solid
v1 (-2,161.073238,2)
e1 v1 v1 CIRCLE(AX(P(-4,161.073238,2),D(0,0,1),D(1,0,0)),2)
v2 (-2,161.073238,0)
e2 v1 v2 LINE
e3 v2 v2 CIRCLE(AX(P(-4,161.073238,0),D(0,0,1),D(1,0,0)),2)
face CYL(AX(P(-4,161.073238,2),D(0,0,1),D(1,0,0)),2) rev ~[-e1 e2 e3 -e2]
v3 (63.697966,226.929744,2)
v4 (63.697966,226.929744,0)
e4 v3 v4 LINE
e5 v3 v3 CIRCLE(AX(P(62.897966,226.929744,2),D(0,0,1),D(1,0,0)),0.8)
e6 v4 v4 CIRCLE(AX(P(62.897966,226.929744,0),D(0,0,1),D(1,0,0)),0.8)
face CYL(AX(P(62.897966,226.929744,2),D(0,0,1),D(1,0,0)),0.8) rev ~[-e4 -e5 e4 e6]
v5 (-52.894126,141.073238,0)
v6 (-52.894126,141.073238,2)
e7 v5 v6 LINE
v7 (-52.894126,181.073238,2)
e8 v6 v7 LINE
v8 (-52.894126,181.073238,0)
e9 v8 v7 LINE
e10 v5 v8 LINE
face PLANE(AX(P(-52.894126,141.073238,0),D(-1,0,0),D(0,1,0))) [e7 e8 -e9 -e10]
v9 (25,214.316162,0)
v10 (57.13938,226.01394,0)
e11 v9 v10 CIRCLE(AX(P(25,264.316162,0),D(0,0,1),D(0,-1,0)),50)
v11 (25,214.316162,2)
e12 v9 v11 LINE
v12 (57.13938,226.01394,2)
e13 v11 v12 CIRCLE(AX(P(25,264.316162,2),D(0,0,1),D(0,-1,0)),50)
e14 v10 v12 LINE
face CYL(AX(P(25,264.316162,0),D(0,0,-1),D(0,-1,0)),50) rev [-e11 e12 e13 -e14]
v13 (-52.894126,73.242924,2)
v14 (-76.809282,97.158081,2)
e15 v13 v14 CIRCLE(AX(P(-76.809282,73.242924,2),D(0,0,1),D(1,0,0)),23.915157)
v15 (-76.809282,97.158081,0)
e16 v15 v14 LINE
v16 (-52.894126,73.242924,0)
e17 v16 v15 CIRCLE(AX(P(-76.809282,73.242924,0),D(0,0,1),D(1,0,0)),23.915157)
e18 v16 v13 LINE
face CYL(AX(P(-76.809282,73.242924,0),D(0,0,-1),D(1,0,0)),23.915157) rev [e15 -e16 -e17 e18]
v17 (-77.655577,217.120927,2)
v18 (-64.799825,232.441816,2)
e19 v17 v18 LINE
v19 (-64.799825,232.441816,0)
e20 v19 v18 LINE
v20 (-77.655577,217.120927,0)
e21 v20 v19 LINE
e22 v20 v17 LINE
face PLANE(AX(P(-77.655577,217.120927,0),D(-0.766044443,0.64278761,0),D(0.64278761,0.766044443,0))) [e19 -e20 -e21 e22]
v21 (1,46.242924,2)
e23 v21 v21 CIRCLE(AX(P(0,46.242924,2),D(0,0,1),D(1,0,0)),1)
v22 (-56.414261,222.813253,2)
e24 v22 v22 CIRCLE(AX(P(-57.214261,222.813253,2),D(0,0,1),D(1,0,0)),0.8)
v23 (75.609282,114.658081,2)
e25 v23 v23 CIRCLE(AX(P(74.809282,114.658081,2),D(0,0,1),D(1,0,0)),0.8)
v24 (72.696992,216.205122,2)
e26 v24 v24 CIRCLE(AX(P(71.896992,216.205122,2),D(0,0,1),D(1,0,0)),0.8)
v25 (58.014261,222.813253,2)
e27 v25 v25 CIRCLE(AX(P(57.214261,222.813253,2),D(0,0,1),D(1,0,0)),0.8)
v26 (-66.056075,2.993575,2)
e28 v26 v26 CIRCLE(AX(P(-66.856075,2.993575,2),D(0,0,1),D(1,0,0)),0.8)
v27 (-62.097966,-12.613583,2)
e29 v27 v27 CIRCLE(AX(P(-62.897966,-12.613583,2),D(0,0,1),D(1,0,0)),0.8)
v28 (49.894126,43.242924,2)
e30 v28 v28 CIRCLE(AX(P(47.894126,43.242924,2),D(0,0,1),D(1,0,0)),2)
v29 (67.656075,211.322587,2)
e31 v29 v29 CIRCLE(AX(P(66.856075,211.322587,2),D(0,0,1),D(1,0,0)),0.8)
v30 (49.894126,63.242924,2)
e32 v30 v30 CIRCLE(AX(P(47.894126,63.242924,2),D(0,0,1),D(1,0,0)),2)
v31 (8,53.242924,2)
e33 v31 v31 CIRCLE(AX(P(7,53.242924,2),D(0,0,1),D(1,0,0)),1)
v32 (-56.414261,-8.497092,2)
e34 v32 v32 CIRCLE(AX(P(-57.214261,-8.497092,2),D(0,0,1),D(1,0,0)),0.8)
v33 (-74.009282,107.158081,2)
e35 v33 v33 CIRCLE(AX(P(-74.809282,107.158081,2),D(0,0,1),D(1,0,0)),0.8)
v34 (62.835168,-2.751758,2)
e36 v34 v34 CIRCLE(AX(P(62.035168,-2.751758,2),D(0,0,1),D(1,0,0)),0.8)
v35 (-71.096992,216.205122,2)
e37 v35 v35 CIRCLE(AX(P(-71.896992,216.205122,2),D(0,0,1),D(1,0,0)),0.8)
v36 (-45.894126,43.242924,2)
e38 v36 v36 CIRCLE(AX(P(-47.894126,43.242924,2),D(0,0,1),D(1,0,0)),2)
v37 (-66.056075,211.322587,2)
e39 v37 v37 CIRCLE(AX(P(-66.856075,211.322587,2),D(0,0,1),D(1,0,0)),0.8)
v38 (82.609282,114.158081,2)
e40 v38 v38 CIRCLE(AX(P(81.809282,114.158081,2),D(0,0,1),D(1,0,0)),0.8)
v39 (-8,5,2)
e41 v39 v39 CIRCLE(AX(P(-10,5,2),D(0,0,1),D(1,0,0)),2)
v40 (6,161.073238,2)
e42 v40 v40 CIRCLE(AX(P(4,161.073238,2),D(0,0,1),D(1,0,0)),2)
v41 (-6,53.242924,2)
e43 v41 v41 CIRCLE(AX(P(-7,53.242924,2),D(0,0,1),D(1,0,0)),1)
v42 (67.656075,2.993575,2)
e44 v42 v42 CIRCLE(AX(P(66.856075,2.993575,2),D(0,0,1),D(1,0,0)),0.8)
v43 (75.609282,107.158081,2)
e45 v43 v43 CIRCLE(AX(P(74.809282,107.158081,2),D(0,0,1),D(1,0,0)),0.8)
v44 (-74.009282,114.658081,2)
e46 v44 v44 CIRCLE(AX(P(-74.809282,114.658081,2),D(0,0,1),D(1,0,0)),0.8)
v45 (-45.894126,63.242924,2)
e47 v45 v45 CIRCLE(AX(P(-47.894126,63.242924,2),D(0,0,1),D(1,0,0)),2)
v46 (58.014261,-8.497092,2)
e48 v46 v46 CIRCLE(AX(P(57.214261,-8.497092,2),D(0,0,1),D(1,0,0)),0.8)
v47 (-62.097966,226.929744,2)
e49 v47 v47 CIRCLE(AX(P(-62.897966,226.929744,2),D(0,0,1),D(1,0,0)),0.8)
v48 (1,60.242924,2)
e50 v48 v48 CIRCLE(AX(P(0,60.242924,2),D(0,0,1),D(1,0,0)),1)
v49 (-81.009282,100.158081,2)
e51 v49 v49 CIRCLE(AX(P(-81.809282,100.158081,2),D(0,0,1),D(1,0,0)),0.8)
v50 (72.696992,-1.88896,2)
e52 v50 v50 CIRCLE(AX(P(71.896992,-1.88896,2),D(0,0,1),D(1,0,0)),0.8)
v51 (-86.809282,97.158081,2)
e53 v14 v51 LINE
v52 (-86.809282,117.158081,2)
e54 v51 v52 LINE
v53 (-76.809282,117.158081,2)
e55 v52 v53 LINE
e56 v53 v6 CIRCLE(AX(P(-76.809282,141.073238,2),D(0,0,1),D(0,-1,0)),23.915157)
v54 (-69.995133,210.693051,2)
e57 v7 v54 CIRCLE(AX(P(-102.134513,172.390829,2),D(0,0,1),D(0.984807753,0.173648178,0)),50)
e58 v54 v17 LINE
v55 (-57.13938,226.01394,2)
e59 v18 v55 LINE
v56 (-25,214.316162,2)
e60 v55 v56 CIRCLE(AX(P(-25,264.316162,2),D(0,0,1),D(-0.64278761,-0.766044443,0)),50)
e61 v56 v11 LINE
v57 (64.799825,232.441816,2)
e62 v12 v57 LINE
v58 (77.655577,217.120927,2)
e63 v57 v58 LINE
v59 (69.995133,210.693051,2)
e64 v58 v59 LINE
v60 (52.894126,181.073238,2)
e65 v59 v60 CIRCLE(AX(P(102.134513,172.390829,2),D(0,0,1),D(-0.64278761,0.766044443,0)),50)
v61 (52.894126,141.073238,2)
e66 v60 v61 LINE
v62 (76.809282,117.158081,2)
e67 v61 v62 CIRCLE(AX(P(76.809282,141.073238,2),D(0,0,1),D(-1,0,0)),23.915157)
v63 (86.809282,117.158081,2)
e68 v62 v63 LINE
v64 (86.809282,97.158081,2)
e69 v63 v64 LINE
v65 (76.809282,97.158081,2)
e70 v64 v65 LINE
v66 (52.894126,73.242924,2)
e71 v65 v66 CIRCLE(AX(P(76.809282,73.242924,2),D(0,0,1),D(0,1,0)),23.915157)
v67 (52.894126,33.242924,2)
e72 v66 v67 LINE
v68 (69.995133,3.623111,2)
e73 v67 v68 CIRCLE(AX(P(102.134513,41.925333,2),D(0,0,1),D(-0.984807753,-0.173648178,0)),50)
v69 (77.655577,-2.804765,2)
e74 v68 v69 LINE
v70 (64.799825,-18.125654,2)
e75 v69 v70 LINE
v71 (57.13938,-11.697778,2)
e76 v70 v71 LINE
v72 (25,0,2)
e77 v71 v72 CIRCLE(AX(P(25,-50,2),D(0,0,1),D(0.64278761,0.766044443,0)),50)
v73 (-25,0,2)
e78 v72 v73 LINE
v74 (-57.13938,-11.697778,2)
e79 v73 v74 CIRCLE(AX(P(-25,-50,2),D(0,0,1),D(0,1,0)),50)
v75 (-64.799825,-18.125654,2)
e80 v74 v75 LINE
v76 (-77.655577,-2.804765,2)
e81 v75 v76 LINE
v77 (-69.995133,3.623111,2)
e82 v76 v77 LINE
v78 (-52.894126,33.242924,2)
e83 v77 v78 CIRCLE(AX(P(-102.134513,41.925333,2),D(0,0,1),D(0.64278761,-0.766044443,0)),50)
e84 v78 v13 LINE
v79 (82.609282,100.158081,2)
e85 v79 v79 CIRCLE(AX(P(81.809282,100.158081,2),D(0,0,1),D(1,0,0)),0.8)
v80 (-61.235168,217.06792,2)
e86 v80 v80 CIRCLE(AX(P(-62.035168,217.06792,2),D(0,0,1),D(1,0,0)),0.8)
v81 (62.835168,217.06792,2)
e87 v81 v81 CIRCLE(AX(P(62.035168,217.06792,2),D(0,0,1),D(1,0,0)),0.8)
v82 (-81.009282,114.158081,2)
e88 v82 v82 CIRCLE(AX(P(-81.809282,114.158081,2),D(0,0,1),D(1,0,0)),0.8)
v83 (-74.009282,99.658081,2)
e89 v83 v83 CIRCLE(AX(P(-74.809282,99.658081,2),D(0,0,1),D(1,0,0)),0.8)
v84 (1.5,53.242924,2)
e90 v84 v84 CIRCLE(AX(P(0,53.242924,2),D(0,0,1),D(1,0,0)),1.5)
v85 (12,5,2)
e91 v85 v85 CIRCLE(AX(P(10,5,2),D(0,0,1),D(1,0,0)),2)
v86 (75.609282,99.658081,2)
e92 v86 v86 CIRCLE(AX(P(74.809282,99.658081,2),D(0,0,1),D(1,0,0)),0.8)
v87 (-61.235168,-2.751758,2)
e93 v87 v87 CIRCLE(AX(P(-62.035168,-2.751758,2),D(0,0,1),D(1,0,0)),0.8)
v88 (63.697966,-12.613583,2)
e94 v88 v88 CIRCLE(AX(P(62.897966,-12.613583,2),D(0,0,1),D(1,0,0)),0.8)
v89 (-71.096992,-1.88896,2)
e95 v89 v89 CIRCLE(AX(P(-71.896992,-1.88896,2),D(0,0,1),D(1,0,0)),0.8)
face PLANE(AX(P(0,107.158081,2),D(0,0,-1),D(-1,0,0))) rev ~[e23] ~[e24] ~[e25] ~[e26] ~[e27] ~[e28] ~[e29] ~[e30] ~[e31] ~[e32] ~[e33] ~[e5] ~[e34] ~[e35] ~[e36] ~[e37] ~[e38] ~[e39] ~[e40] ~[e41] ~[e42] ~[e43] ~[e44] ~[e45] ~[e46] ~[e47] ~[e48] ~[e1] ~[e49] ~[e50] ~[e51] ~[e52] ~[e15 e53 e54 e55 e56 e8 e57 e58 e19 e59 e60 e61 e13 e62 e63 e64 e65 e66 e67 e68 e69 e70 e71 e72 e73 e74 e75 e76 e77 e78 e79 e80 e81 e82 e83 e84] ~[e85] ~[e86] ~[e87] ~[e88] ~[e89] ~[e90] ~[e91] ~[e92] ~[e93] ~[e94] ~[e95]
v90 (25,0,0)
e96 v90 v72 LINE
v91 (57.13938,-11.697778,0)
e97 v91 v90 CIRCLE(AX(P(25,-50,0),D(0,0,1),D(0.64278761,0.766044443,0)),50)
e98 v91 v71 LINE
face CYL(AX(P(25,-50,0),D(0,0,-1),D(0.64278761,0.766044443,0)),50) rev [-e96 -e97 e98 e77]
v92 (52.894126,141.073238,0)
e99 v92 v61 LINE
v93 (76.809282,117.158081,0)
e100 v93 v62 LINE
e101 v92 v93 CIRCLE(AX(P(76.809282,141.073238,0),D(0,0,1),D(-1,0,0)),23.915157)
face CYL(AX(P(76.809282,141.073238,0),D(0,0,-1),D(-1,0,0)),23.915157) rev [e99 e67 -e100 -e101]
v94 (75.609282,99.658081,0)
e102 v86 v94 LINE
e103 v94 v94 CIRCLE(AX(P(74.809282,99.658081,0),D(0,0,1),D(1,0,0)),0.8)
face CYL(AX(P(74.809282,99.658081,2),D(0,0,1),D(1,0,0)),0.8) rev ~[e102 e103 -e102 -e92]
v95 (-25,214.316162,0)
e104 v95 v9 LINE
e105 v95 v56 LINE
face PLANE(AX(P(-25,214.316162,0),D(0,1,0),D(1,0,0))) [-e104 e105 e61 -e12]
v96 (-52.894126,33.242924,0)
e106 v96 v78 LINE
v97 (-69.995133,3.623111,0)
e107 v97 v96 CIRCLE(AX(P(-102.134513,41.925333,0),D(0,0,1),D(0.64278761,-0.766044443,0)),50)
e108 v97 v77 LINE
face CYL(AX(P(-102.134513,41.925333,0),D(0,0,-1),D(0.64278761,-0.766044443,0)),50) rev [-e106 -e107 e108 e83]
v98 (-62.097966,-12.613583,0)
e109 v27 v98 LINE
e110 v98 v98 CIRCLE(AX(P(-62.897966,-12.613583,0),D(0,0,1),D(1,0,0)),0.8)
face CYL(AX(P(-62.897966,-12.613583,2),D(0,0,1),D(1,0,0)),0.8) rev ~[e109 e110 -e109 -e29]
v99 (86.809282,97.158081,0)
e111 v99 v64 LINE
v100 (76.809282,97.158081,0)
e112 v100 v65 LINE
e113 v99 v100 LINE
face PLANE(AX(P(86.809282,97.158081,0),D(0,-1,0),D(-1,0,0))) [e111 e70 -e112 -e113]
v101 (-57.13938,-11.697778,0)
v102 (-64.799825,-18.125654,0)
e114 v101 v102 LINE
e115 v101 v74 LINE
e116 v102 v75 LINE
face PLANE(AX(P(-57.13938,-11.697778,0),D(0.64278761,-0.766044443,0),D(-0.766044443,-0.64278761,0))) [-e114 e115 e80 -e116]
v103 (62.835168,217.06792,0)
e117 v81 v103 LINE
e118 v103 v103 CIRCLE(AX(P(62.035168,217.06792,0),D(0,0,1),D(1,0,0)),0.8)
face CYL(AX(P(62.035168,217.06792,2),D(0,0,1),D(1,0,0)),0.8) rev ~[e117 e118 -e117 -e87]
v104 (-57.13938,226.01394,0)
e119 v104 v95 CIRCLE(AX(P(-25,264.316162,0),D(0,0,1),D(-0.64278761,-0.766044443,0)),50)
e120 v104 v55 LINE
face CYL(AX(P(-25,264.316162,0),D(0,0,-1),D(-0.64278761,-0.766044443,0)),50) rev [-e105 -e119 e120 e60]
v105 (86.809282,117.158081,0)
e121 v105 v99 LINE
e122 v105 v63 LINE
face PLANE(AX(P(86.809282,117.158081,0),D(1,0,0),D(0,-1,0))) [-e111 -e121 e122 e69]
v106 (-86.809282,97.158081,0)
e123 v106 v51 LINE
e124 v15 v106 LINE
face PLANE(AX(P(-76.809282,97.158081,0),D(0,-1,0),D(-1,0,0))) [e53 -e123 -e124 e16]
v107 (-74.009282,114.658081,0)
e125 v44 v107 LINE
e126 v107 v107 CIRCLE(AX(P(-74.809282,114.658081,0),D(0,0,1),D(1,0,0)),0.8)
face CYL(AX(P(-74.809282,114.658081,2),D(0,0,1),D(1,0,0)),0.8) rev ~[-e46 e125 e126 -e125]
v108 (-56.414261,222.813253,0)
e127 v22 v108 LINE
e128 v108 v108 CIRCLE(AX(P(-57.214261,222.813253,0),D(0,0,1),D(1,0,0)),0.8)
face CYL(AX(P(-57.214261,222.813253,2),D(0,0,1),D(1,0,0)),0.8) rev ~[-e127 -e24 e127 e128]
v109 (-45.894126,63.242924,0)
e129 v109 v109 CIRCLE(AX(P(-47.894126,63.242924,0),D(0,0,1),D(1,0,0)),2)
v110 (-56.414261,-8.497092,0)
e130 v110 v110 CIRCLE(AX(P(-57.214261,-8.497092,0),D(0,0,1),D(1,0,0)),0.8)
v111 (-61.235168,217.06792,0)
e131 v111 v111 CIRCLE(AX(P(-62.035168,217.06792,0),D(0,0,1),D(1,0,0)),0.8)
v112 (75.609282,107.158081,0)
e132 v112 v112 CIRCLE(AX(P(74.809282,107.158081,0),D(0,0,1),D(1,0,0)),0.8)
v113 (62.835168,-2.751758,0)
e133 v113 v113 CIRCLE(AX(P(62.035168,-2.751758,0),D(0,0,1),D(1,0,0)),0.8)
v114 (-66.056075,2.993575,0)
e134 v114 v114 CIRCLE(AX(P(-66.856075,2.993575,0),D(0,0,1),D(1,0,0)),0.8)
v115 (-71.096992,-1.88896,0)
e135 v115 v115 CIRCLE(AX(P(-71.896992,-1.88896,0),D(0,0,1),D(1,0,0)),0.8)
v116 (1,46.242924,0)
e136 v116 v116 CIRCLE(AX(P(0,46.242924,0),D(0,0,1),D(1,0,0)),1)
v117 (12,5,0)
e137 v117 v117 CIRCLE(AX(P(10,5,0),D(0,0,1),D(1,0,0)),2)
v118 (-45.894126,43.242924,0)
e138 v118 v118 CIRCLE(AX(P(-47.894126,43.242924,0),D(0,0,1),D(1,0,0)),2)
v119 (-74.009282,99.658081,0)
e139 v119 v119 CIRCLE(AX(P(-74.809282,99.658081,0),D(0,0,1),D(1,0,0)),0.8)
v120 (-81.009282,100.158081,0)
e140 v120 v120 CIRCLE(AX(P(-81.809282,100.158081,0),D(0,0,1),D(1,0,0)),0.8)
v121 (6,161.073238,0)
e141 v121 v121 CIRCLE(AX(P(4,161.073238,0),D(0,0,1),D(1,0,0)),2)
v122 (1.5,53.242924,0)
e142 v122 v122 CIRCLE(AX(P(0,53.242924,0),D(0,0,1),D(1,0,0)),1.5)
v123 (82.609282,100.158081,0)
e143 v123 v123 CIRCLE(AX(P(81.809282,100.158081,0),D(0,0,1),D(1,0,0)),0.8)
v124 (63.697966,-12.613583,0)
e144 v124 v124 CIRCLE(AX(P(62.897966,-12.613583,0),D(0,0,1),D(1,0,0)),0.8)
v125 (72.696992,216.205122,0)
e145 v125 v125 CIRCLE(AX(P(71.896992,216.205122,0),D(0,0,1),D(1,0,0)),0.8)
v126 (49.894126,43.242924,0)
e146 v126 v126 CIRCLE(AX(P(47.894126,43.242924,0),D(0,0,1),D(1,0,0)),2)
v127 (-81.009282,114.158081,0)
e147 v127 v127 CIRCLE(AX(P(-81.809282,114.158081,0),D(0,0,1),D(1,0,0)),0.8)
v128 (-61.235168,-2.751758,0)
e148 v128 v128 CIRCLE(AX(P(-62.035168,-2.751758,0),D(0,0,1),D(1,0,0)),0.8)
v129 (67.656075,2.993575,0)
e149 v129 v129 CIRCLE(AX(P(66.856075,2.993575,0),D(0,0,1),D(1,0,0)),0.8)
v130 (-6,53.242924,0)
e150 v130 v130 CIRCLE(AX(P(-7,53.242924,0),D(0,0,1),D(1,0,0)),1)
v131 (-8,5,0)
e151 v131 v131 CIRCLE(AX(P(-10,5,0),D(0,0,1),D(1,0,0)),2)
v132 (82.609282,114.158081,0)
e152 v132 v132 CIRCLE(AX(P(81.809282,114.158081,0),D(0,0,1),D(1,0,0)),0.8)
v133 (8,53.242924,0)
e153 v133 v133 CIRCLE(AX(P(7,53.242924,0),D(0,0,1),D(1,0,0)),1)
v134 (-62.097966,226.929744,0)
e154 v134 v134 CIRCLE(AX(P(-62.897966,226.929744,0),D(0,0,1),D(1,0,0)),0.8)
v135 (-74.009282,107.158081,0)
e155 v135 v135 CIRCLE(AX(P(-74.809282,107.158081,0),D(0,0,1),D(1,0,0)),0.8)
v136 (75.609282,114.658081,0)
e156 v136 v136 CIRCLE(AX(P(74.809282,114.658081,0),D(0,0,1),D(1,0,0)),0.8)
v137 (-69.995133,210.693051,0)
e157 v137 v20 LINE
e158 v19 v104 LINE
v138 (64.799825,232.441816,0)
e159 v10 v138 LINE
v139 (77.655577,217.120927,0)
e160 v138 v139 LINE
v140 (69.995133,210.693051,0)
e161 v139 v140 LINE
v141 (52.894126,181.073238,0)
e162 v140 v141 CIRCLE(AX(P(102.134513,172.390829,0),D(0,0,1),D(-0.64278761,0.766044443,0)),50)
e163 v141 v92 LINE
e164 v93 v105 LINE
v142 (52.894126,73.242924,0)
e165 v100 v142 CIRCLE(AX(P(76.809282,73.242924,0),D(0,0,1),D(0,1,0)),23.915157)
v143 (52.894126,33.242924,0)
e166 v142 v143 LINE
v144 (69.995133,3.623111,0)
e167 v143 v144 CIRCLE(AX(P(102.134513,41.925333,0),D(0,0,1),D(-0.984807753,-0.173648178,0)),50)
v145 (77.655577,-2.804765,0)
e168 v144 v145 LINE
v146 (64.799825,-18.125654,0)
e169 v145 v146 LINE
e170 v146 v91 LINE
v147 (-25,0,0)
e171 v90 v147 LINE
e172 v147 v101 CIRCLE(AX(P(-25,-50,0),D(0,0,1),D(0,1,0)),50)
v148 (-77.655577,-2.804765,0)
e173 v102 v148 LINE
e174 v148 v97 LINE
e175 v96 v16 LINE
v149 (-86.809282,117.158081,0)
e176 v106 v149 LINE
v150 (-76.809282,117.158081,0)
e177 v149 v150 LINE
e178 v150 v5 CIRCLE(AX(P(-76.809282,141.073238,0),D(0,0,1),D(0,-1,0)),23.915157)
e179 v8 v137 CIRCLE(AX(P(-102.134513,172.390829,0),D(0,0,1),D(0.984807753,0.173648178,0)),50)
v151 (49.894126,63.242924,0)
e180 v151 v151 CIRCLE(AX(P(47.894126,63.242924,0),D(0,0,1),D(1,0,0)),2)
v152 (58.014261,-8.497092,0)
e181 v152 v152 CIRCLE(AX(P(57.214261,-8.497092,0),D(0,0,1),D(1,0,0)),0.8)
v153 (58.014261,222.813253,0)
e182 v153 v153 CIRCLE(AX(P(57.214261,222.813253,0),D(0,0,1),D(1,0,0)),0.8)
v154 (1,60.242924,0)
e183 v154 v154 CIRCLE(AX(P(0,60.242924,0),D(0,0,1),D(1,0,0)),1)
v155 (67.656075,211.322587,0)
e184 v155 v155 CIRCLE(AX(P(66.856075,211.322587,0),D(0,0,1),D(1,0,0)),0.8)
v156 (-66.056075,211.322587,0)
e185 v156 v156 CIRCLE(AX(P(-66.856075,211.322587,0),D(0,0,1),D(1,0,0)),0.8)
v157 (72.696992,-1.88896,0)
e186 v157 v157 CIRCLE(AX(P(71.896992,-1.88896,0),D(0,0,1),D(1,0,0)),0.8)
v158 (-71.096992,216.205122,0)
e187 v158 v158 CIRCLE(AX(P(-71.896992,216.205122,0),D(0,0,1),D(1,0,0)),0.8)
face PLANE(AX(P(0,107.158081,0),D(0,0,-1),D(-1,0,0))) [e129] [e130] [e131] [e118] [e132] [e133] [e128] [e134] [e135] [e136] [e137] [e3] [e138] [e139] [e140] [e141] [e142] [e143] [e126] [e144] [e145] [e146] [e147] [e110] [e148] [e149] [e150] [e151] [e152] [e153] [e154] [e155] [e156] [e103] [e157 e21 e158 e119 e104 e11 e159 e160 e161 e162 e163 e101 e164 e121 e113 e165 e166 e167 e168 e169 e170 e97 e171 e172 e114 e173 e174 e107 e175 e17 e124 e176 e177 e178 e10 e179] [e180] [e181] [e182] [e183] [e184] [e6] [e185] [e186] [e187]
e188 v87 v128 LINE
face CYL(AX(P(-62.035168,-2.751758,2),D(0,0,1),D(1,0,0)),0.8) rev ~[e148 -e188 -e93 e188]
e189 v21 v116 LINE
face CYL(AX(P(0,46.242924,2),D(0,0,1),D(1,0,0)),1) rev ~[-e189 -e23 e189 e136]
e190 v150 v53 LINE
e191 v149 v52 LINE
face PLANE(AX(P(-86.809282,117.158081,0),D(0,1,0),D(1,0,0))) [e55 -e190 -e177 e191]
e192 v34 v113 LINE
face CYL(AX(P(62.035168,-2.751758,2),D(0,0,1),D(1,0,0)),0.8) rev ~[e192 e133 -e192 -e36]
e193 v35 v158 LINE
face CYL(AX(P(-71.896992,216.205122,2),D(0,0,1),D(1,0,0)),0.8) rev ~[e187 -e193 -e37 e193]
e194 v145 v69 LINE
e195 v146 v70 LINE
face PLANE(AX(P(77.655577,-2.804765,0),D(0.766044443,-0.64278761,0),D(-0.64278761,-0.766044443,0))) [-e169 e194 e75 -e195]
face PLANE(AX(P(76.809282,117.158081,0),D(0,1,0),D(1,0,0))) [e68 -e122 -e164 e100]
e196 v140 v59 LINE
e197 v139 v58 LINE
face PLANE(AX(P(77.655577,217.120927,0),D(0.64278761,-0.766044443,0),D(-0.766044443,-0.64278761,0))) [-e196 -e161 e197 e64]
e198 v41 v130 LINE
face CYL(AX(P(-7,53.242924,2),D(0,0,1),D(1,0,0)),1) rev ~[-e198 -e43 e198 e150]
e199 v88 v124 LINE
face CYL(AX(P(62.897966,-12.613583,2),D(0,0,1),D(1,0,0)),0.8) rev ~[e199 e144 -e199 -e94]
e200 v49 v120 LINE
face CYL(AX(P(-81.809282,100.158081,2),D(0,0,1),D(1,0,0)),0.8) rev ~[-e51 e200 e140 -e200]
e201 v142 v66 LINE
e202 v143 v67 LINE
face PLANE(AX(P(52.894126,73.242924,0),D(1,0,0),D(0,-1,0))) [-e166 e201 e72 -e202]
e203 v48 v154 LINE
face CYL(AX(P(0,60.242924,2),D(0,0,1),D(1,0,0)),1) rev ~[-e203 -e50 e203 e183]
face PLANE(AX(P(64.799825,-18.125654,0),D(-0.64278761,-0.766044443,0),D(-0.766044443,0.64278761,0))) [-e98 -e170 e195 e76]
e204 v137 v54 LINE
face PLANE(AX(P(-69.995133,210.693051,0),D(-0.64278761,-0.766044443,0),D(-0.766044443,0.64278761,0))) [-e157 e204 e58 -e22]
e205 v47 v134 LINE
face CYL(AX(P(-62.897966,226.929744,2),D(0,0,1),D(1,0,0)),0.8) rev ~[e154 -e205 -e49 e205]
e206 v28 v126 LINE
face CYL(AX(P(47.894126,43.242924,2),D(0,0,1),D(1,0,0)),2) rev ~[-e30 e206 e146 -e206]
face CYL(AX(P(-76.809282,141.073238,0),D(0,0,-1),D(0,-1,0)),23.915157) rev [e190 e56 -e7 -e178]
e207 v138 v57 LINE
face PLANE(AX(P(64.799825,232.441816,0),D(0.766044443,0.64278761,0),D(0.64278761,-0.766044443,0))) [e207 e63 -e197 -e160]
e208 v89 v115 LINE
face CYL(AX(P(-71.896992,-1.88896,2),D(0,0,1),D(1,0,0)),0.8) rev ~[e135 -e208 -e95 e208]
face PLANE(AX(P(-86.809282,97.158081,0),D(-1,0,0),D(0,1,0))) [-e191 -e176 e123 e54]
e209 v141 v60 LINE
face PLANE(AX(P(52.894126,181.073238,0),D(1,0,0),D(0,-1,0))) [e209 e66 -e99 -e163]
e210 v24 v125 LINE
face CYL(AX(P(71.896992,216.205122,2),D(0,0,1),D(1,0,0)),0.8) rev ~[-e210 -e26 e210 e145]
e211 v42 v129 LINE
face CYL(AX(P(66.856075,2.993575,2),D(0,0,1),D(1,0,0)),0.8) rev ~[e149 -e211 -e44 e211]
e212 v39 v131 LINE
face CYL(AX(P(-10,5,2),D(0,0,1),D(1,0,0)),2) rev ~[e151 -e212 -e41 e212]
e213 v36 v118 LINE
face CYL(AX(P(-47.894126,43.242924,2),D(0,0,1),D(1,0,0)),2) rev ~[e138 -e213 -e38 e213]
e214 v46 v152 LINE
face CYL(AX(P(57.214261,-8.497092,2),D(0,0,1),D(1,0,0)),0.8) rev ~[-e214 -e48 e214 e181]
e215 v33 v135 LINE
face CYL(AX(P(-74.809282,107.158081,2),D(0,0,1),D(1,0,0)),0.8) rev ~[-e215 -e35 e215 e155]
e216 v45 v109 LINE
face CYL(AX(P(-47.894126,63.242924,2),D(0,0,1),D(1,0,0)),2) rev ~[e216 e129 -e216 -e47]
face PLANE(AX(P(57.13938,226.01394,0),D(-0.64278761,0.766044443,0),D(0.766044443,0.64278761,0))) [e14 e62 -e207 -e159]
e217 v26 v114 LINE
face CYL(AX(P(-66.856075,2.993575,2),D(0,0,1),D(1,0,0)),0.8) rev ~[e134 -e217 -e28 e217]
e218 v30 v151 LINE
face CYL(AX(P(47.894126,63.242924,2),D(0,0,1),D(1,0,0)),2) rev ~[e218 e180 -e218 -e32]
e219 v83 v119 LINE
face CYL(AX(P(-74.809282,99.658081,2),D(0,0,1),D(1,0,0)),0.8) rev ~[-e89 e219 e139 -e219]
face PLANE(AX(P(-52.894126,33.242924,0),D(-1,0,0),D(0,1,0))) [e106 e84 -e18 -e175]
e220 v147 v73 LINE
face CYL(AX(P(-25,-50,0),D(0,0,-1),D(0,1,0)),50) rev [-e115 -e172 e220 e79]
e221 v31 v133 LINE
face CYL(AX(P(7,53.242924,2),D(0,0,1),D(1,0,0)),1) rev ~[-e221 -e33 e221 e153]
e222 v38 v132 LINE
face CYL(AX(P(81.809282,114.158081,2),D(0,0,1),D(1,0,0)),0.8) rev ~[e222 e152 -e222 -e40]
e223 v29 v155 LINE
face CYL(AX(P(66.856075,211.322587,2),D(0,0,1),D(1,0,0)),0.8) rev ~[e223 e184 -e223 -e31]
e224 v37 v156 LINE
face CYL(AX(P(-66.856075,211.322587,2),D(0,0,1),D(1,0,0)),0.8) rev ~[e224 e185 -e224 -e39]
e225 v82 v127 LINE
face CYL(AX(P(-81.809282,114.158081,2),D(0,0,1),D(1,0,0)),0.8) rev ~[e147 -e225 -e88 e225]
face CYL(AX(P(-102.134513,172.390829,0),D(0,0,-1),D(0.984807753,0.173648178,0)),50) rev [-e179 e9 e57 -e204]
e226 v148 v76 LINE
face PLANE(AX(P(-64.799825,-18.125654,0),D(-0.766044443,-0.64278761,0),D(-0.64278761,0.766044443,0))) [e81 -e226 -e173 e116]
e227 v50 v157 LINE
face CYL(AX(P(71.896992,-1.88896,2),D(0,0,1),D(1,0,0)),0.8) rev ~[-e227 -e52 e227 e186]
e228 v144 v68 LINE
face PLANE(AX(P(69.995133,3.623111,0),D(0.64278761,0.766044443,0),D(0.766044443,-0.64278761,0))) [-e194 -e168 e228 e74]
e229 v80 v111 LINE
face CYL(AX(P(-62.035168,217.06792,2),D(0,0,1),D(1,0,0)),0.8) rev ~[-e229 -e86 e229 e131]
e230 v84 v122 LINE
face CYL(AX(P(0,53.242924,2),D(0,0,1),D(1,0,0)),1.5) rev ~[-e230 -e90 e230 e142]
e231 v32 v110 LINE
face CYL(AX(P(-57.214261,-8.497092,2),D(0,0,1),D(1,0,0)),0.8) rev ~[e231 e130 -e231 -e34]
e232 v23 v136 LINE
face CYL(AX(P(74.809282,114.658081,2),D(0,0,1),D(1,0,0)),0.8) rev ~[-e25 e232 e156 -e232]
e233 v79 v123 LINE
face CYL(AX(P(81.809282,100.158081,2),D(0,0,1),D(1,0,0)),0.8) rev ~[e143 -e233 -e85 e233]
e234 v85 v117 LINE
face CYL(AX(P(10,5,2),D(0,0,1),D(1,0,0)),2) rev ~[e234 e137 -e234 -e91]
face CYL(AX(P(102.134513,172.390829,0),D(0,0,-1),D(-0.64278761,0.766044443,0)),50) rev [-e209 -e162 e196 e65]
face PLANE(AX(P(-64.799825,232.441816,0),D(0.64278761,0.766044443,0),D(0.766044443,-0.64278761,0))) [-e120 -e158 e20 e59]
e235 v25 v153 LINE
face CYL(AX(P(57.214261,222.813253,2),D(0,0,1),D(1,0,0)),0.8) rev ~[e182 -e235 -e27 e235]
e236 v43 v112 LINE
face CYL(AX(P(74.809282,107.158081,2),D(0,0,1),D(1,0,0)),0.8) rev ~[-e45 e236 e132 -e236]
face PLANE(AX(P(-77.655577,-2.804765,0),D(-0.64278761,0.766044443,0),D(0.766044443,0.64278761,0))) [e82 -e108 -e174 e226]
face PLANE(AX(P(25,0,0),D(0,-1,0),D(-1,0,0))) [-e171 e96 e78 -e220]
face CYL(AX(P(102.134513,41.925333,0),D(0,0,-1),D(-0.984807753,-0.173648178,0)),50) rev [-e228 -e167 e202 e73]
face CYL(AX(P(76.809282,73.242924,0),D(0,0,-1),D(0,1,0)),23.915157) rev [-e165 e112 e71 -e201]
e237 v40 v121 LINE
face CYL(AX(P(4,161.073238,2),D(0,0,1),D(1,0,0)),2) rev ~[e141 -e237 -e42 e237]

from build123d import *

# Parameters (mm, degrees)
EXTRUDE_1_DEPTH     = 2
SKETCH_2_R          = 0.8
SKETCH_2_R_2        = 2
CUT_EXTRUDE_1_DEPTH = 10
SKETCH_3_R          = 1.5
SKETCH_3_R_2        = 1
CUT_EXTRUDE_2_DEPTH = 249.131112982
SKETCH_4_R          = 2
CUT_EXTRUDE_3_DEPTH = 10


with BuildPart() as part:
    # 草图1 → 凸台-拉伸1 (new body)
    with BuildSketch(Plane.XY):
        with BuildLine():
            Line((-52.894125512, 33.242924291), (-52.894125512, 73.242924291))
            ThreePointArc((-52.894125512, 73.242924291), (-59.898712726, 90.153493742), (-76.809282177, 97.158080957))
            Line((-76.809282177, 97.158080957), (-86.809282177, 97.158080957))
            Line((-86.809282177, 97.158080957), (-86.809282177, 117.158080957))
            Line((-86.809282177, 117.158080957), (-76.809282177, 117.158080957))
            ThreePointArc((-76.809282177, 117.158080957), (-59.898712726, 124.162668171), (-52.894125512, 141.073237622))
            Line((-52.894125512, 141.073237622), (-52.894125512, 181.073237622))
            ThreePointArc((-52.894125512, 181.073237622), (-58.833242973, 197.390828739), (-69.995132678, 210.693050895))
            Line((-69.995132678, 210.693050895), (-77.655577109, 217.120926992))
            Line((-77.655577109, 217.120926992), (-64.799824916, 232.441815854))
            Line((-64.799824916, 232.441815854), (-57.139380484, 226.013939757))
            ThreePointArc((-57.139380484, 226.013939757), (-42.101007166, 217.331530874), (-25, 214.316161913))
            Line((-25, 214.316161913), (25, 214.316161913))
            ThreePointArc((25, 214.316161913), (42.101007166, 217.331530874), (57.139380484, 226.013939757))
            Line((57.139380484, 226.013939757), (64.799824916, 232.441815854))
            Line((64.799824916, 232.441815854), (77.655577109, 217.120926992))
            Line((77.655577109, 217.120926992), (69.995132678, 210.693050895))
            ThreePointArc((69.995132678, 210.693050895), (58.833242973, 197.390828739), (52.894125512, 181.073237622))
            Line((52.894125512, 181.073237622), (52.894125512, 141.073237622))
            ThreePointArc((52.894125512, 141.073237622), (59.898712726, 124.162668171), (76.809282177, 117.158080957))
            Line((76.809282177, 117.158080957), (86.809282177, 117.158080957))
            Line((86.809282177, 117.158080957), (86.809282177, 97.158080957))
            Line((86.809282177, 97.158080957), (76.809282177, 97.158080957))
            ThreePointArc((76.809282177, 97.158080957), (59.898712726, 90.153493742), (52.894125512, 73.242924291))
            Line((52.894125512, 73.242924291), (52.894125512, 33.242924291))
            ThreePointArc((52.894125512, 33.242924291), (58.833242973, 16.925333174), (69.995132678, 3.623111018))
            Line((69.995132678, 3.623111018), (77.655577109, -2.804765079))
            Line((77.655577109, -2.804765079), (64.799824916, -18.125653941))
            Line((64.799824916, -18.125653941), (57.139380484, -11.697777844))
            ThreePointArc((57.139380484, -11.697777844), (42.101007166, -3.015368961), (25, 0))
            Line((25, 0), (-25, 0))
            ThreePointArc((-25, 0), (-42.101007166, -3.015368961), (-57.139380484, -11.697777844))
            Line((-57.139380484, -11.697777844), (-64.799824916, -18.125653941))
            Line((-64.799824916, -18.125653941), (-77.655577109, -2.804765079))
            Line((-77.655577109, -2.804765079), (-69.995132678, 3.623111018))
            ThreePointArc((-69.995132678, 3.623111018), (-58.833242973, 16.925333174), (-52.894125512, 33.242924291))
        make_face()
    extrude(amount=EXTRUDE_1_DEPTH)

    # 草图2 → 切除-拉伸1 (cut)
    with BuildSketch(Plane.XY.offset(2)):
        with Locations((-62.035167695, 217.067920107)):
            Circle(SKETCH_2_R)
        with Locations((-71.896992065, 216.205122273)):
            Circle(SKETCH_2_R)
        with Locations((-62.897965529, 226.929744476)):
            Circle(SKETCH_2_R)
        with Locations((-81.809282177, 100.158080957)):
            Circle(SKETCH_2_R)
        with Locations((-74.809282177, 107.158080957)):
            Circle(SKETCH_2_R)
        with Locations((-81.809282177, 114.158080957)):
            Circle(SKETCH_2_R)
        with Locations((81.809282177, 114.158080957)):
            Circle(SKETCH_2_R)
        with Locations((74.809282177, 107.158080957)):
            Circle(SKETCH_2_R)
        with Locations((81.809282177, 100.158080957)):
            Circle(SKETCH_2_R)
        with Locations((71.896992065, 216.205122273)):
            Circle(SKETCH_2_R)
        with Locations((62.035167695, 217.067920107)):
            Circle(SKETCH_2_R)
        with Locations((62.897965529, 226.929744476)):
            Circle(SKETCH_2_R)
        with Locations((71.896992065, -1.888960359)):
            Circle(SKETCH_2_R)
        with Locations((62.035167695, -2.751758193)):
            Circle(SKETCH_2_R)
        with Locations((62.897965529, -12.613582563)):
            Circle(SKETCH_2_R)
        with Locations((-71.896992065, -1.888960359)):
            Circle(SKETCH_2_R)
        with Locations((-62.035167695, -2.751758193)):
            Circle(SKETCH_2_R)
        with Locations((-62.897965529, -12.613582563)):
            Circle(SKETCH_2_R)
        with Locations((-47.894125512, 63.242924291)):
            Circle(SKETCH_2_R_2)
        with Locations((-47.894125512, 43.242924291)):
            Circle(SKETCH_2_R_2)
        with Locations((47.894125512, 43.242924291)):
            Circle(SKETCH_2_R_2)
        with Locations((47.894125512, 63.242924291)):
            Circle(SKETCH_2_R_2)
        with Locations((-10, 5)):
            Circle(SKETCH_2_R_2)
        with Locations((10, 5)):
            Circle(SKETCH_2_R_2)
        with Locations((-74.809282177, 114.658080957)):
            Circle(SKETCH_2_R)
        with Locations((-74.809282177, 99.658080957)):
            Circle(SKETCH_2_R)
        with Locations((74.809282177, 114.658080957)):
            Circle(SKETCH_2_R)
        with Locations((74.809282177, 99.658080957)):
            Circle(SKETCH_2_R)
        with Locations((66.856074768, 2.99357513)):
            Circle(SKETCH_2_R)
        with Locations((57.214260622, -8.497091517)):
            Circle(SKETCH_2_R)
        with Locations((-57.214260622, -8.497091517)):
            Circle(SKETCH_2_R)
        with Locations((-66.856074768, 2.99357513)):
            Circle(SKETCH_2_R)
        with Locations((-57.214260622, 222.81325343)):
            Circle(SKETCH_2_R)
        with Locations((-66.856074768, 211.322586783)):
            Circle(SKETCH_2_R)
        with Locations((66.856074768, 211.322586783)):
            Circle(SKETCH_2_R)
        with Locations((57.214260622, 222.81325343)):
            Circle(SKETCH_2_R)
    extrude(amount=-CUT_EXTRUDE_1_DEPTH, mode=Mode.SUBTRACT)

    # 草图3 → 切除-拉伸2 (cut, through all)
    with BuildSketch(Plane.XY.offset(2)):
        with Locations((0, 53.242924291)):
            Circle(SKETCH_3_R)
        with Locations((0, 60.242924291)):
            Circle(SKETCH_3_R_2)
        with Locations((7, 53.242924291)):
            Circle(SKETCH_3_R_2)
        with Locations((0, 46.242924291)):
            Circle(SKETCH_3_R_2)
        with Locations((-7, 53.242924291)):
            Circle(SKETCH_3_R_2)
    extrude(amount=-CUT_EXTRUDE_2_DEPTH, mode=Mode.SUBTRACT)

    # 草图4 → 切除-拉伸3 (cut)
    with BuildSketch(Plane.XY.offset(2)):
        with Locations((4, 161.073237622)):
            Circle(SKETCH_4_R)
        with Locations((-4, 161.073237622)):
            Circle(SKETCH_4_R)
    extrude(amount=-CUT_EXTRUDE_3_DEPTH, mode=Mode.SUBTRACT)


solid = part.part
